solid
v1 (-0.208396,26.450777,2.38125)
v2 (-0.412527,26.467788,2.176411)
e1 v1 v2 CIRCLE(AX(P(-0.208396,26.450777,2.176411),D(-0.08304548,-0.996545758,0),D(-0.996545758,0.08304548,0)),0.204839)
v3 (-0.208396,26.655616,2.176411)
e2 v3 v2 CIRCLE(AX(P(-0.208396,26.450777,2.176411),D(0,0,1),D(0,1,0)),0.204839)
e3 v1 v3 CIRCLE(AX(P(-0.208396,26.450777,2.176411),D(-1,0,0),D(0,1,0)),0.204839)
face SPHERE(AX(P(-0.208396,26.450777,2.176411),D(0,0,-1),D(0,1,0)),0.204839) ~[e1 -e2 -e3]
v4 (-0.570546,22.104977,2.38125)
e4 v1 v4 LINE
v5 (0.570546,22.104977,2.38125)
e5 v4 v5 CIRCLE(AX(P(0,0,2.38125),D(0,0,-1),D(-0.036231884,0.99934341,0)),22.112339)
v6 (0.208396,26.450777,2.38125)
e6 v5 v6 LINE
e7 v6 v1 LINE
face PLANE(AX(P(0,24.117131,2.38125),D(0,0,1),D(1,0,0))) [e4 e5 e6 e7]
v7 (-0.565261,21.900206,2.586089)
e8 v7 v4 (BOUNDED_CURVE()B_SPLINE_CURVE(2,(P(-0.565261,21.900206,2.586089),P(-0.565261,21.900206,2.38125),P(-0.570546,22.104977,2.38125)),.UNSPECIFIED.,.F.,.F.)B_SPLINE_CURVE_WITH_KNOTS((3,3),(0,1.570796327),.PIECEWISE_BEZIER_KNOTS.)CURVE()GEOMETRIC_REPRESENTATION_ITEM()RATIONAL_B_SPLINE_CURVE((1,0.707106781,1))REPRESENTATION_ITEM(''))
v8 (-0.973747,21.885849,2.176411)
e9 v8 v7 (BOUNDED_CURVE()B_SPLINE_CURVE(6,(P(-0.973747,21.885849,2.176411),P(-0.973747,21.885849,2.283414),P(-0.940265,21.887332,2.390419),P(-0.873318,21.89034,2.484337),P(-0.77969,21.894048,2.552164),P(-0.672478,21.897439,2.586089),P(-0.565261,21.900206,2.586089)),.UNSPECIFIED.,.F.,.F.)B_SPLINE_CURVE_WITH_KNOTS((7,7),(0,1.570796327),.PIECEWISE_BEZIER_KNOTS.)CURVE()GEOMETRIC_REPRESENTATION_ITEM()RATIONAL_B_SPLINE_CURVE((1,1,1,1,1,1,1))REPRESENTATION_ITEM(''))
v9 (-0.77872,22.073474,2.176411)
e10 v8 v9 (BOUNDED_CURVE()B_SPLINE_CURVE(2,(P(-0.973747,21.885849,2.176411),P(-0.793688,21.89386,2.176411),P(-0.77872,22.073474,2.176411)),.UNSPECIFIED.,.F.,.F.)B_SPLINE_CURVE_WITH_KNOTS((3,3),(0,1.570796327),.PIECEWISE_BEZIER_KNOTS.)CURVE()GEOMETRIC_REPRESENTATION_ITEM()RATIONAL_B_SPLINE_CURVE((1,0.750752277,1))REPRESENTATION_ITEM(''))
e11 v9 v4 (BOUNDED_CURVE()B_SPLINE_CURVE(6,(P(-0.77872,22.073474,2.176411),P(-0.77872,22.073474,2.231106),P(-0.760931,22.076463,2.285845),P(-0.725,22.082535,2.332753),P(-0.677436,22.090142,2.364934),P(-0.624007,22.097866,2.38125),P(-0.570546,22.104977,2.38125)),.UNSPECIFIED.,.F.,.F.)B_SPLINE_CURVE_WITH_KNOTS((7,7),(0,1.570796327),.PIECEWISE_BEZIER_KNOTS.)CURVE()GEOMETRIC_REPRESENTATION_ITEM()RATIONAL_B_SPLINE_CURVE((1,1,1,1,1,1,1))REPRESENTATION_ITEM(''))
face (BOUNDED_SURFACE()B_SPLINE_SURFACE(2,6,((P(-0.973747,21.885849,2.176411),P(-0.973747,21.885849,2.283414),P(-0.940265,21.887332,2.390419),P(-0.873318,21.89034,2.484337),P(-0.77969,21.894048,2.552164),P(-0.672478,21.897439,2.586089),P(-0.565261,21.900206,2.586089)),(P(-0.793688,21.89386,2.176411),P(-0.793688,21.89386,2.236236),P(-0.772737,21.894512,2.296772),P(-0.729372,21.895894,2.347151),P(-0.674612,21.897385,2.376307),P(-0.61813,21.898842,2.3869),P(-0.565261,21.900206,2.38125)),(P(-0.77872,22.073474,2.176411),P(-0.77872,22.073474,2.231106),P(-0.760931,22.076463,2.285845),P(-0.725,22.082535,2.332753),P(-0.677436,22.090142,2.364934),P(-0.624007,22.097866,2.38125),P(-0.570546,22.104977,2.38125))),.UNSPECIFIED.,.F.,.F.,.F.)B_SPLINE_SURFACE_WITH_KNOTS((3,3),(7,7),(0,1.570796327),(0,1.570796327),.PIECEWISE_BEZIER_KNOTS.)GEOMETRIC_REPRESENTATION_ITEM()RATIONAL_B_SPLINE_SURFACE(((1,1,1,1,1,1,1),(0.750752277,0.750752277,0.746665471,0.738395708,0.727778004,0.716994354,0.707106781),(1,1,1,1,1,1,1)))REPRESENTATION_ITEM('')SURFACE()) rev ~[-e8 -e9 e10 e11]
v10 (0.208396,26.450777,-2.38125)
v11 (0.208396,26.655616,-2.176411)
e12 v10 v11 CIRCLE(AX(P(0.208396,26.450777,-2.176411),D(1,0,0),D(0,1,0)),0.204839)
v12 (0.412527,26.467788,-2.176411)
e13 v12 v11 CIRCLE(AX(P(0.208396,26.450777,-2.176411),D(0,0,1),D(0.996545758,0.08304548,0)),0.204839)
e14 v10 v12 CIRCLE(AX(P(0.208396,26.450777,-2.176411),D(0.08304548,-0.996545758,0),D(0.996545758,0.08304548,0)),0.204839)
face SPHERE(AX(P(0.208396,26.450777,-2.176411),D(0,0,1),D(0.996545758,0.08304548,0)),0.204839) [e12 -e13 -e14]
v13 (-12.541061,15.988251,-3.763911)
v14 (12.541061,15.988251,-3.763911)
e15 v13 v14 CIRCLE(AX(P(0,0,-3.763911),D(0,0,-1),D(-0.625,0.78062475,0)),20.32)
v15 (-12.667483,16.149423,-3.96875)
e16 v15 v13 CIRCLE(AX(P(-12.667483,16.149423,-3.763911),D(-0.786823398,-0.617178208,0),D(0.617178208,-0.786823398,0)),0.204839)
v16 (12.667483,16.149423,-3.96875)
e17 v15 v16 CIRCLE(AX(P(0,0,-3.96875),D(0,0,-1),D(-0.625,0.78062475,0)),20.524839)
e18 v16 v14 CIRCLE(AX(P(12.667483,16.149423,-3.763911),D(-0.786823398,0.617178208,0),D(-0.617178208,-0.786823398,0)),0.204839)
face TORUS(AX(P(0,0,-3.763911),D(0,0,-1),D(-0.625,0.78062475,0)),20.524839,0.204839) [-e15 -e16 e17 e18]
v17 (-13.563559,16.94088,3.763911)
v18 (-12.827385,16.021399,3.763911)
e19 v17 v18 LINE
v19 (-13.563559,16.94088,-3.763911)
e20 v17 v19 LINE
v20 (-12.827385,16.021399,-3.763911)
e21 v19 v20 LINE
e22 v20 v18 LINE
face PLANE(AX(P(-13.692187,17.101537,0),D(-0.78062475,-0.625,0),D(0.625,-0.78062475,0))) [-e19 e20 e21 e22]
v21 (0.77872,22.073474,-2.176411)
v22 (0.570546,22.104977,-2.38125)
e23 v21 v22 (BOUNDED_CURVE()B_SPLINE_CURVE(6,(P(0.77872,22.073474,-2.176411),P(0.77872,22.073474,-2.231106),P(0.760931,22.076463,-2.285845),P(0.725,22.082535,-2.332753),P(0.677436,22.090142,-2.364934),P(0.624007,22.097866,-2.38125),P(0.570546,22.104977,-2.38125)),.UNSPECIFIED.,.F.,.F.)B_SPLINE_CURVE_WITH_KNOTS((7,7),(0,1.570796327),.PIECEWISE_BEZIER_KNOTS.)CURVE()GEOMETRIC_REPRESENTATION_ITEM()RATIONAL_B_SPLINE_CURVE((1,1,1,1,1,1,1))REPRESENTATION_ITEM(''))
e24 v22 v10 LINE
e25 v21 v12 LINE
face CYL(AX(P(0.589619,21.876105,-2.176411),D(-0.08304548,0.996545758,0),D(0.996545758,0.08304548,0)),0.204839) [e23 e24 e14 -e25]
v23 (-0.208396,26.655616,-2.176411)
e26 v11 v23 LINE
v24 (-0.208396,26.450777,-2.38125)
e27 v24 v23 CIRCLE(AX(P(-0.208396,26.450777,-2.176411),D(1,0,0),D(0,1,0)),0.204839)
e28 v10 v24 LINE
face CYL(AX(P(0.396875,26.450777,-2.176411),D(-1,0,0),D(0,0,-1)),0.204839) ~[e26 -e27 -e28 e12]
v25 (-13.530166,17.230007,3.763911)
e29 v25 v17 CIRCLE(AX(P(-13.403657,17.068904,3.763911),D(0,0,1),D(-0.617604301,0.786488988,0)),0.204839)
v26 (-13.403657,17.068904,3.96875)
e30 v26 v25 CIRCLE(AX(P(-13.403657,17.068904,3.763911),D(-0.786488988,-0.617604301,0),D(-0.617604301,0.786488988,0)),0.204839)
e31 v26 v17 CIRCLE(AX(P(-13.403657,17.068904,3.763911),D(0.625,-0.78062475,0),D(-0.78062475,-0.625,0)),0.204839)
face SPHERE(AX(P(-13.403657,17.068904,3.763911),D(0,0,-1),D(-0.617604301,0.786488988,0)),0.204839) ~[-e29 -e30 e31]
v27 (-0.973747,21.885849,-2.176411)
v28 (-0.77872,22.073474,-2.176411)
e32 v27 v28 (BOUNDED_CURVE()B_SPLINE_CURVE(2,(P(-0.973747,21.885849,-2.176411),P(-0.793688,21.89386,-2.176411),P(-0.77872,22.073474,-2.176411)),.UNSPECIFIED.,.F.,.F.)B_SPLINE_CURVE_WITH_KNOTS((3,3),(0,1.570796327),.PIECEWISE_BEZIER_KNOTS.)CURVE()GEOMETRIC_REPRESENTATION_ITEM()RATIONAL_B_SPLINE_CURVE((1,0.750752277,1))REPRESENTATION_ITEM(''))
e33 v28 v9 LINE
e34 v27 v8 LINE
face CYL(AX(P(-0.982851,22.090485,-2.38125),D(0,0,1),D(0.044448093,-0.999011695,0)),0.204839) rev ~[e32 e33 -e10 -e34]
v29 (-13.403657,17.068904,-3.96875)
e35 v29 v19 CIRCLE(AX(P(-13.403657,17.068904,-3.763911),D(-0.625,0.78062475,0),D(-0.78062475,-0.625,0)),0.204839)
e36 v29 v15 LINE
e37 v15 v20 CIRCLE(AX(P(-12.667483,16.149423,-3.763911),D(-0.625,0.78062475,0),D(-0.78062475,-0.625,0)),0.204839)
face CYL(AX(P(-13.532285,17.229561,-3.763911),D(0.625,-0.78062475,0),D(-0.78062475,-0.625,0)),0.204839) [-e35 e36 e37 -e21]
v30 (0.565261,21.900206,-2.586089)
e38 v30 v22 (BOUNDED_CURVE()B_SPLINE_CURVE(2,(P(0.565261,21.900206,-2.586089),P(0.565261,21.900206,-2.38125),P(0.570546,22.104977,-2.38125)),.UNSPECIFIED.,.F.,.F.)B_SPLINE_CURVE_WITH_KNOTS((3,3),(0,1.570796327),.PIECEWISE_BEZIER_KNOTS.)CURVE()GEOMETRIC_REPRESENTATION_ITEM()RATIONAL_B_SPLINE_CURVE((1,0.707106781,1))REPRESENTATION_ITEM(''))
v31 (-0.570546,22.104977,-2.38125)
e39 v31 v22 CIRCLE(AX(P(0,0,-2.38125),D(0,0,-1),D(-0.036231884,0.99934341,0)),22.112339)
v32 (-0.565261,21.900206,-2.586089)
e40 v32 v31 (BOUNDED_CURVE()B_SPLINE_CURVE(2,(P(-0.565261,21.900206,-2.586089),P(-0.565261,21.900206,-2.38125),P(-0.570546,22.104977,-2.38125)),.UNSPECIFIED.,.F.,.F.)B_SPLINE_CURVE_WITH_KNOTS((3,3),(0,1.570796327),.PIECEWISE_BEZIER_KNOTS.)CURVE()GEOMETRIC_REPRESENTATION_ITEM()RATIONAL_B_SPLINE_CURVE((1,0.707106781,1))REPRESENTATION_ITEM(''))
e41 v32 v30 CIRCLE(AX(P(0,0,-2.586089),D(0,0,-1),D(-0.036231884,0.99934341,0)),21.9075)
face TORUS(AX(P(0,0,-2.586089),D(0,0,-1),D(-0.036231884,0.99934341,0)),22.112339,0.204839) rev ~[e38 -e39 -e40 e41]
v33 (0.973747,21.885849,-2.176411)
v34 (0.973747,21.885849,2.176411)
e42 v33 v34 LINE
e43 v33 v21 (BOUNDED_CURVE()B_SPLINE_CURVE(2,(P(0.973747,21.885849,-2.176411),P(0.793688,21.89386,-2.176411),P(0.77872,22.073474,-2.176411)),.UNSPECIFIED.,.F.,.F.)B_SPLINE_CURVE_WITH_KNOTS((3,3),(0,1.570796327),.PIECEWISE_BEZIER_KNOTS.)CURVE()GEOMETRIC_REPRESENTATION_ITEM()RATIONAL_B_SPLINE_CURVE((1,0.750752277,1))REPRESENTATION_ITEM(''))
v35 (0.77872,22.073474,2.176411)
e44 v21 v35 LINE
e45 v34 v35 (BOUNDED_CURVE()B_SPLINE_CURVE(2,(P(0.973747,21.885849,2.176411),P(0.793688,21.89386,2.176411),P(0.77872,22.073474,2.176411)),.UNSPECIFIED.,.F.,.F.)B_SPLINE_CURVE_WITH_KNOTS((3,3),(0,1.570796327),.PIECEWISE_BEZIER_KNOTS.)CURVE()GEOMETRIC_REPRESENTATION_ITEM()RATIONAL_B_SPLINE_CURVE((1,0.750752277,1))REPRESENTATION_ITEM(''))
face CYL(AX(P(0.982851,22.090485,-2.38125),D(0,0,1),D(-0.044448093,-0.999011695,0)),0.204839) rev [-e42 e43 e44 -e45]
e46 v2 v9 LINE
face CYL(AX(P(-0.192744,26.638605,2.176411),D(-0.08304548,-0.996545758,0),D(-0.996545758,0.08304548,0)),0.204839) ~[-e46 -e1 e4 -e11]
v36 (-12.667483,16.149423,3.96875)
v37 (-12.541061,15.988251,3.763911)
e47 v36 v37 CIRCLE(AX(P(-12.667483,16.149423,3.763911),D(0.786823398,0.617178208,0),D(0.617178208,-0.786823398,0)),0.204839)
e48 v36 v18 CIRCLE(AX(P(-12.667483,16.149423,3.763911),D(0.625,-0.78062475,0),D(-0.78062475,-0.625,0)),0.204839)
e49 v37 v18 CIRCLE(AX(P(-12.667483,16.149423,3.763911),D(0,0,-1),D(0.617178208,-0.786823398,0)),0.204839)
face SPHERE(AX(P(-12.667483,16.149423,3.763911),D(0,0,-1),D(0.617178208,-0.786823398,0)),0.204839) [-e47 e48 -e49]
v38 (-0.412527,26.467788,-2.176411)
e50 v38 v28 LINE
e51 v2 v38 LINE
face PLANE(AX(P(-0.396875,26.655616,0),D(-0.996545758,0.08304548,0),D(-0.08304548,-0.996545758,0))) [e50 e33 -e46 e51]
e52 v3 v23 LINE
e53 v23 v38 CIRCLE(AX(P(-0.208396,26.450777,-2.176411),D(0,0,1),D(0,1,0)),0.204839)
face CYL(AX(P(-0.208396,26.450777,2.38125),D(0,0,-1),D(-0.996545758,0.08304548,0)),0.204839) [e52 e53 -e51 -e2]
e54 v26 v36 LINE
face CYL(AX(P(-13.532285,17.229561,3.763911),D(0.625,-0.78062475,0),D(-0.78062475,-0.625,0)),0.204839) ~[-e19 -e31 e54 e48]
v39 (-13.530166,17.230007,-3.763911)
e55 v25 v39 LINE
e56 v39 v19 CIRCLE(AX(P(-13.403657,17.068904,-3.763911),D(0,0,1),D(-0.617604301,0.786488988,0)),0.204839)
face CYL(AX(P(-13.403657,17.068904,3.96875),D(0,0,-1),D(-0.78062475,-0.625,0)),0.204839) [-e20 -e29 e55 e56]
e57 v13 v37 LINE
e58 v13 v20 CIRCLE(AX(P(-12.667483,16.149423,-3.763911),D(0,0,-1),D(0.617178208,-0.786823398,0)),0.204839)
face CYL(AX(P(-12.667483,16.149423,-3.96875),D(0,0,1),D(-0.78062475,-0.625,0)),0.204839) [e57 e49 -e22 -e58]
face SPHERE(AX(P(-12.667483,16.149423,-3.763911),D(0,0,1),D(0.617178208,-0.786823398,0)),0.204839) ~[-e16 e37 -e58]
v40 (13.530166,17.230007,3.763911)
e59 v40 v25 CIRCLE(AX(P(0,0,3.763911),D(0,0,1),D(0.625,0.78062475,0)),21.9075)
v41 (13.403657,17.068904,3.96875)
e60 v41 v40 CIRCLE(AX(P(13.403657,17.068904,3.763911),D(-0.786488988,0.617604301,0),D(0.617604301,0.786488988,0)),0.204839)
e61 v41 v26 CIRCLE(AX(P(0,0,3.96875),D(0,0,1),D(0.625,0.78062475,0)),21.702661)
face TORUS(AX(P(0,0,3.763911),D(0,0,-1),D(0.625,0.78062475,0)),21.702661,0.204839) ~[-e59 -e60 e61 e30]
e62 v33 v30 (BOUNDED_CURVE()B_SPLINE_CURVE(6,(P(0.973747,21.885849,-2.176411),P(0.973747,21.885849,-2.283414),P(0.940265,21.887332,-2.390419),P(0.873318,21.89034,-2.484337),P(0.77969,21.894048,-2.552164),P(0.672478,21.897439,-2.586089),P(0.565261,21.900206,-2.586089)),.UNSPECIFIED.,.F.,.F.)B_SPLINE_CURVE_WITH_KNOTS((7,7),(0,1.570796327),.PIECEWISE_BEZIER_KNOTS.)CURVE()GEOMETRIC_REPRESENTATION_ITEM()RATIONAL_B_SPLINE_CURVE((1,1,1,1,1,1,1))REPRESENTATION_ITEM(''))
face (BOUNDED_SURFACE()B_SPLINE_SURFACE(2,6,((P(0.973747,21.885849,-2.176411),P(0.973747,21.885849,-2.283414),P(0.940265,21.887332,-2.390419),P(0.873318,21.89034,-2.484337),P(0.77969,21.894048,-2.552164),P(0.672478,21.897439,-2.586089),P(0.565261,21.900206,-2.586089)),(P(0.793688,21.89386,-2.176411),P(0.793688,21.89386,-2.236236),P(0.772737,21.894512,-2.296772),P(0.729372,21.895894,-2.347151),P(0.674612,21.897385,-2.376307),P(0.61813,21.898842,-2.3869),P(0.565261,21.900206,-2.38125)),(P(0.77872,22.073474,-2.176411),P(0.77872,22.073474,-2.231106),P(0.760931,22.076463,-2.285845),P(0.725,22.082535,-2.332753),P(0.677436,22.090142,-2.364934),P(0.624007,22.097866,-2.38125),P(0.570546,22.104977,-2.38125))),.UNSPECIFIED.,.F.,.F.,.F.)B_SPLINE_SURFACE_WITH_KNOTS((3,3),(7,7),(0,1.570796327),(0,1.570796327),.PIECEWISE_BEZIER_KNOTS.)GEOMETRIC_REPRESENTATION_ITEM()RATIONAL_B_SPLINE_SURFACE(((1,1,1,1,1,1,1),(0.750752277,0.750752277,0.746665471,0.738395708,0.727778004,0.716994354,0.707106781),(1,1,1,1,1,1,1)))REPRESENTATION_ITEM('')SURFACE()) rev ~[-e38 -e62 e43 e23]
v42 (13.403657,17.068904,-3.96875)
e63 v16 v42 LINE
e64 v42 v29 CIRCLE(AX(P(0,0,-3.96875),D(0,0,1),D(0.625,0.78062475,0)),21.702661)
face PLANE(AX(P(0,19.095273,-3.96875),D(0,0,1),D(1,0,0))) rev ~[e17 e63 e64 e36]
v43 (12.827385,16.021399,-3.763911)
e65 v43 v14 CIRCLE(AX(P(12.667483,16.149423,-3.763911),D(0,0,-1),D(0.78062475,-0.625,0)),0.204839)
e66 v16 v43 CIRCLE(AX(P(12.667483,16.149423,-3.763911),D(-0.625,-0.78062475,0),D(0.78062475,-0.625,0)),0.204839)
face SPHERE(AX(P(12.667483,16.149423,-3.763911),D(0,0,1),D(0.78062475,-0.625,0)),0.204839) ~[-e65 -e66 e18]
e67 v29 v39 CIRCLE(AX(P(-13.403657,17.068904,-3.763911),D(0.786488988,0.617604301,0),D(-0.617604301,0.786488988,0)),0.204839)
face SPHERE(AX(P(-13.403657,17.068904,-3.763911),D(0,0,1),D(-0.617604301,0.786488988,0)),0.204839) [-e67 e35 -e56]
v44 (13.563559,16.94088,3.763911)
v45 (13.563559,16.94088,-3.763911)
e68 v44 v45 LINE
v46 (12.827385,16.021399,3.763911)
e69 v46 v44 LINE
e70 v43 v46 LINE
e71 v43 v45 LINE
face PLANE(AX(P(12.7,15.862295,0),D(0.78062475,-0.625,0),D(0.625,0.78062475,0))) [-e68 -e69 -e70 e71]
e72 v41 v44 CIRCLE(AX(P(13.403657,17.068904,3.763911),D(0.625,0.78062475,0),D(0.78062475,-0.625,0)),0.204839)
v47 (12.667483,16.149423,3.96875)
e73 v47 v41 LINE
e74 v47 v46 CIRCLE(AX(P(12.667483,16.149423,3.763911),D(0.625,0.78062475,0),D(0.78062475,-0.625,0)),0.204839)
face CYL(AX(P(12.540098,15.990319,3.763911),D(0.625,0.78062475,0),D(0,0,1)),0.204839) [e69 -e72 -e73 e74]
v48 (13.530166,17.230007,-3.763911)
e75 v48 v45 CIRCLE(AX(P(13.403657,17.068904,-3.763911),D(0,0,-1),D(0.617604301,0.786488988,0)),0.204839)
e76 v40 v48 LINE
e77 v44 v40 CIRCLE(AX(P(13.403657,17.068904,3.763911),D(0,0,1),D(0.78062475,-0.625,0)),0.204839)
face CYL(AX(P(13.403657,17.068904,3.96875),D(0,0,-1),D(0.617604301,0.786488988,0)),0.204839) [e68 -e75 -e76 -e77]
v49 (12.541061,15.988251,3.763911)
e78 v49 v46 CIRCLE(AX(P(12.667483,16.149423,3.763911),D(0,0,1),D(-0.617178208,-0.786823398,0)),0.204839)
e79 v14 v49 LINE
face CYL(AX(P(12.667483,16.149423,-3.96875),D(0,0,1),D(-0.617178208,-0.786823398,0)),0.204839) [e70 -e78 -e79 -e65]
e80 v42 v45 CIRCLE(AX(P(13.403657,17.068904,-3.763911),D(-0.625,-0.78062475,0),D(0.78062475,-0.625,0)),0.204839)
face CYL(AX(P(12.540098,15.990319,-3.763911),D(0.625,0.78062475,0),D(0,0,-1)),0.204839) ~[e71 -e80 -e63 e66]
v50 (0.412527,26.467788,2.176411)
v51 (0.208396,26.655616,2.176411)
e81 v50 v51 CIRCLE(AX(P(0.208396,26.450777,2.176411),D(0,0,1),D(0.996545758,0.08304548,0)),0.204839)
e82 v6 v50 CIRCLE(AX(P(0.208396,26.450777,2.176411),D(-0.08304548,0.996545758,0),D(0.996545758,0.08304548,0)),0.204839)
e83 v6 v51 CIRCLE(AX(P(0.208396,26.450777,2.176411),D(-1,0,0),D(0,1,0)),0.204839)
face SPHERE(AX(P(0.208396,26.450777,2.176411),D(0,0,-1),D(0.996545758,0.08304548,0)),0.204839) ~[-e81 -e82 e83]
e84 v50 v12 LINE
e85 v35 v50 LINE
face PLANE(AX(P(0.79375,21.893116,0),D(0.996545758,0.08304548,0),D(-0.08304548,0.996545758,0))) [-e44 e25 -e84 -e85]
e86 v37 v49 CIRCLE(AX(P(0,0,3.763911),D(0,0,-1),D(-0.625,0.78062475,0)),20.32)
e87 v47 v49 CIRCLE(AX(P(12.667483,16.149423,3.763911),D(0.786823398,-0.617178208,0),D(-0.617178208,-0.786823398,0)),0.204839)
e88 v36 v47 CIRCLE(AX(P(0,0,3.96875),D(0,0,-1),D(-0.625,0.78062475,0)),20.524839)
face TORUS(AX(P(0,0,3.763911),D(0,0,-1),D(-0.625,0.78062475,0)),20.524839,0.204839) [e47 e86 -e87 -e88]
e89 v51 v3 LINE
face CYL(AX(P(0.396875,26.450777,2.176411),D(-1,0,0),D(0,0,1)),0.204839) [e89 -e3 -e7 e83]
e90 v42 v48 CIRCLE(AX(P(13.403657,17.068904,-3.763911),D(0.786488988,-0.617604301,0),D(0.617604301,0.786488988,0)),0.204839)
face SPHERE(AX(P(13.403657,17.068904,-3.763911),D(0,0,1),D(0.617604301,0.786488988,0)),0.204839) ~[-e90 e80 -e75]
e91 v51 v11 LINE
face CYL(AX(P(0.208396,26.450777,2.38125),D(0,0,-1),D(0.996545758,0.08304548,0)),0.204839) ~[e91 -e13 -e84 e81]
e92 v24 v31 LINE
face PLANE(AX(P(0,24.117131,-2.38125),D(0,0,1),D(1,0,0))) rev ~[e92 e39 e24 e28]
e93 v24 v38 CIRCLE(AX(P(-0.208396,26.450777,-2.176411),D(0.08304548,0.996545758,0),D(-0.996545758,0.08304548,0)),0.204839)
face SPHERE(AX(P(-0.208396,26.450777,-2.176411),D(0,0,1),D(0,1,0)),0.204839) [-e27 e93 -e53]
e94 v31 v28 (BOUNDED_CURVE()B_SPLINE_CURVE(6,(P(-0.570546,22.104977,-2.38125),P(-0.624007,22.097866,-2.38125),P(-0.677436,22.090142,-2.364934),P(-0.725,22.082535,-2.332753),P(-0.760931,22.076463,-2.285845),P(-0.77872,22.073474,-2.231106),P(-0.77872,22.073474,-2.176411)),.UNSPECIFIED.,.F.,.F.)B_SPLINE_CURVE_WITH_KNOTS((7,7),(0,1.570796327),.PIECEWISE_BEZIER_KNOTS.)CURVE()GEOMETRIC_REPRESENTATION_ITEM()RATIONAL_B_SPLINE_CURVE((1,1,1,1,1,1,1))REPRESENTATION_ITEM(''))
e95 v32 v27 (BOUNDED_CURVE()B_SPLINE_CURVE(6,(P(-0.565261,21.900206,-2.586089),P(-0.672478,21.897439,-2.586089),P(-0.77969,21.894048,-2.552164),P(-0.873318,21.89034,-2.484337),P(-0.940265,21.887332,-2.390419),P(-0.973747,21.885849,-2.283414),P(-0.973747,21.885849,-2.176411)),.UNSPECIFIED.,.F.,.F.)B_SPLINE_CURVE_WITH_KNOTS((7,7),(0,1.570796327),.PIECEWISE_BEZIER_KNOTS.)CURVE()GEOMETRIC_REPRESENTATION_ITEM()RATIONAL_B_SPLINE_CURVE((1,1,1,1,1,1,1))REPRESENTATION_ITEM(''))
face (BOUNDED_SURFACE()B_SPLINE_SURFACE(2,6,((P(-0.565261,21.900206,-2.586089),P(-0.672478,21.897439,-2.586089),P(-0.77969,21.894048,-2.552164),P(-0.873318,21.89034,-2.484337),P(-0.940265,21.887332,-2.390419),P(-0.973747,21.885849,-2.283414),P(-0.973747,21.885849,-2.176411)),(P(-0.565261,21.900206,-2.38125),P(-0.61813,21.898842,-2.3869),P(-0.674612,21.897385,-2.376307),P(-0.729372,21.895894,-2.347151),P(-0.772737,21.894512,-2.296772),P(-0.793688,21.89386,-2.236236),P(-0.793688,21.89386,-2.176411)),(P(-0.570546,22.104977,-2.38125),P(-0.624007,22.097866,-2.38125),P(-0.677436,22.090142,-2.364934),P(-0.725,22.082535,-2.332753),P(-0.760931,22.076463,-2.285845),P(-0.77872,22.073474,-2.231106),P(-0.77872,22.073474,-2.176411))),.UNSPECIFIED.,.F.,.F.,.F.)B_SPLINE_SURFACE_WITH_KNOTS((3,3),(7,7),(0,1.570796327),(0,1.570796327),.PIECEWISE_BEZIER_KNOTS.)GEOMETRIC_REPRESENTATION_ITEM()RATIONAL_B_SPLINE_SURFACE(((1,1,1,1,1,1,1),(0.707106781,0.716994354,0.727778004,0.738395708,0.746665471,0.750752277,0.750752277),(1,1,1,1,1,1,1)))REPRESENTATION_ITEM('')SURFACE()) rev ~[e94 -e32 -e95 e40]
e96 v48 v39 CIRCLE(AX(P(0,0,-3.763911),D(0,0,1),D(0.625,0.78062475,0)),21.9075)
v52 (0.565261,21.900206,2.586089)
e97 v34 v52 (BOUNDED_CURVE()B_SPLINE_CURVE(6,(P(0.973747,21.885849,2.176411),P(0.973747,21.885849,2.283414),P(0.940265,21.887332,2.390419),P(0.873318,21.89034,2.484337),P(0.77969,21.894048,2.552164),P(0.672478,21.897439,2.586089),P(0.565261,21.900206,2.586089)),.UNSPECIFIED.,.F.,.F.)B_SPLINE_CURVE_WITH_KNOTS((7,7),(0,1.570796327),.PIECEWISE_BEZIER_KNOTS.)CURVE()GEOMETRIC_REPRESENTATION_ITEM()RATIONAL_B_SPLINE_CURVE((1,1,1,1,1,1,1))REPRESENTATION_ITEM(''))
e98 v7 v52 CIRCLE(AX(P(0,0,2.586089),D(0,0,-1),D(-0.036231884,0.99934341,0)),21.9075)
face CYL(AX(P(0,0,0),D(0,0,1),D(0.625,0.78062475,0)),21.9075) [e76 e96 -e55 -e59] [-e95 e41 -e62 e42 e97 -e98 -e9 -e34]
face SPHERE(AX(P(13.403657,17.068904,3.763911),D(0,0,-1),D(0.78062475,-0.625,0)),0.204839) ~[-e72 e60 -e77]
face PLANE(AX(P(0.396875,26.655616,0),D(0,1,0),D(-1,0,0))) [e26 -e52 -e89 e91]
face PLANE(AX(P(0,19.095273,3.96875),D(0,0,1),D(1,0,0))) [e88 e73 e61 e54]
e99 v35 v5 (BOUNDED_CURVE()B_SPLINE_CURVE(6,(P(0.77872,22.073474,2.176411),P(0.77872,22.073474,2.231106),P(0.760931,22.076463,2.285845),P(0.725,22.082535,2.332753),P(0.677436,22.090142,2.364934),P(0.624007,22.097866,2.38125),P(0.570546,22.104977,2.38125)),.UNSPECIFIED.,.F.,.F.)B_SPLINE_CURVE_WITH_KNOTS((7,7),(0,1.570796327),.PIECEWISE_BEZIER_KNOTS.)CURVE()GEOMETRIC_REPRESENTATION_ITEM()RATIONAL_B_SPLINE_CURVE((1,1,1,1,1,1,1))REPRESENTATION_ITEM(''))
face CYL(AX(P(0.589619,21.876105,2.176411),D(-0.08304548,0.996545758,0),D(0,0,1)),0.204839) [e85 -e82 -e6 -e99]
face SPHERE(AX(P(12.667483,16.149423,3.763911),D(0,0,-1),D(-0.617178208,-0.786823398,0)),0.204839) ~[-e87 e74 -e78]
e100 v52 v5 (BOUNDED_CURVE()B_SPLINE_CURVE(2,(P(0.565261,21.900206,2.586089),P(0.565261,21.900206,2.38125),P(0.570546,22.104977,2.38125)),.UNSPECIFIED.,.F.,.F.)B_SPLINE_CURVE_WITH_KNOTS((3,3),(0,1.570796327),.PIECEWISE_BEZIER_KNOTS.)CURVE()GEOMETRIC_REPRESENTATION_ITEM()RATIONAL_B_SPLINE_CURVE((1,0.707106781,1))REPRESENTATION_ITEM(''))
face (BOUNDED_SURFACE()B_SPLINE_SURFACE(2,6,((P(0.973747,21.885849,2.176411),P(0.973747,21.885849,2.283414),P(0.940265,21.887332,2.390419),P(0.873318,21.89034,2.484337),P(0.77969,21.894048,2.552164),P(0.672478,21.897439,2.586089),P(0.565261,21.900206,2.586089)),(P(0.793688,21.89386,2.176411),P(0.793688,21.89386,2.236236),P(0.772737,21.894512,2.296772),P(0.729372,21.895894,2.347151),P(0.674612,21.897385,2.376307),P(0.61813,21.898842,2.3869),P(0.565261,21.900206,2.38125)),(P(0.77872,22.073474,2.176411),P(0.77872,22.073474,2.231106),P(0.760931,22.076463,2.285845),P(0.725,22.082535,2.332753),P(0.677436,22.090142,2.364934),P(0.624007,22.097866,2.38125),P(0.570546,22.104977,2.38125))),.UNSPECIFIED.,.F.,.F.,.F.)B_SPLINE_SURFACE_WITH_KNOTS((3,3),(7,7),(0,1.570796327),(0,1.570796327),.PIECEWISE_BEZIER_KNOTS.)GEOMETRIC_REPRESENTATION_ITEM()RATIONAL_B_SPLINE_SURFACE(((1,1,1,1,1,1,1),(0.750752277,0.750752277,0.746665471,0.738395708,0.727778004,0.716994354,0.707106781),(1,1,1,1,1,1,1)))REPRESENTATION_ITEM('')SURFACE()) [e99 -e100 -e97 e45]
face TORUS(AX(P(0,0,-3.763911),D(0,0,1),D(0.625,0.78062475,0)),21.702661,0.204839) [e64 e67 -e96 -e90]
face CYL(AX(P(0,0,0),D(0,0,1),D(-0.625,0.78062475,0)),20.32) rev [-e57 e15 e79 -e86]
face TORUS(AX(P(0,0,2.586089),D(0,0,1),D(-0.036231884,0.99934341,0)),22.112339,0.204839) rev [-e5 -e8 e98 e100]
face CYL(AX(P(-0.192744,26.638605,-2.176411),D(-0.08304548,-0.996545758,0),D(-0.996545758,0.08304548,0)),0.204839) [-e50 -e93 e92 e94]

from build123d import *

# Parameters (mm, degrees)
BOSS_EXTRUDE1_DEPTH = 3.96875
BOSS_EXTRUDE2_DEPTH = 2.38125
FILLET1_R           = 0.20483871


with BuildPart() as part:
    # Sketch1 → Boss-Extrude1 (new body, symmetric)
    with BuildSketch(Plane.XY):
        with BuildLine():
            Line((-13.6921875, 17.101536706), (-12.7, 15.862294916))
            ThreePointArc((-12.7, 15.862294916), (0, 20.32), (12.7, 15.862294916))
            Line((12.7, 15.862294916), (13.6921875, 17.101536706))
            ThreePointArc((13.6921875, 17.101536706), (0, 21.9075), (-13.6921875, 17.101536706))
        make_face()
    extrude(amount=BOSS_EXTRUDE1_DEPTH, both=True)

    # Sketch1<3> → Boss-Extrude2 (add, symmetric)
    with BuildSketch(Plane.XY):
        with BuildLine():
            Line((-0.396875, 26.655615749), (-0.79375, 21.893115749))
            ThreePointArc((-0.79375, 21.893115749), (0, 21.9075), (0.79375, 21.893115749))
            Line((0.79375, 21.893115749), (0.396875, 26.655615749))
            Line((0.396875, 26.655615749), (0, 26.655615749))
            Line((0, 26.655615749), (-0.396875, 26.655615749))
        make_face()
    extrude(amount=BOSS_EXTRUDE2_DEPTH, both=True)

    # Fillet1
    fillet1_edges = [part.edges().sort_by_distance(p)[0] for p in [
        (13.19609375, 16.481915811, 3.96875),
        (-0.5953125, 24.274365749, 2.38125),
        (-0.396875, 26.655615749, 0),
        (0, 21.9075, 3.96875),
        (0, 21.9075, -2.38125),
        (-0.79375, 21.893115749, 0),
        (0.5953125, 24.274365749, -2.38125),
        (0.79375, 21.893115749, 0),
        (0, 26.655615749, -2.38125),
        (0.396875, 26.655615749, 0),
        (0, 21.9075, 2.38125),
        (0.5953125, 24.274365749, 2.38125),
        (0, 26.655615749, 2.38125),
        (-0.5953125, 24.274365749, -2.38125),
        (-13.19609375, 16.481915811, 3.96875),
        (0, 21.9075, -3.96875),
        (13.19609375, 16.481915811, -3.96875),
        (0, 20.32, -3.96875),
        (-13.19609375, 16.481915811, -3.96875),
        (-13.6921875, 17.101536706, 0),
        (13.6921875, 17.101536706, 0),
        (12.7, 15.862294916, 0),
        (-12.7, 15.862294916, 0),
        (0, 20.32, 3.96875),
    ]]
    fillet(fillet1_edges, radius=FILLET1_R)


solid = part.part
